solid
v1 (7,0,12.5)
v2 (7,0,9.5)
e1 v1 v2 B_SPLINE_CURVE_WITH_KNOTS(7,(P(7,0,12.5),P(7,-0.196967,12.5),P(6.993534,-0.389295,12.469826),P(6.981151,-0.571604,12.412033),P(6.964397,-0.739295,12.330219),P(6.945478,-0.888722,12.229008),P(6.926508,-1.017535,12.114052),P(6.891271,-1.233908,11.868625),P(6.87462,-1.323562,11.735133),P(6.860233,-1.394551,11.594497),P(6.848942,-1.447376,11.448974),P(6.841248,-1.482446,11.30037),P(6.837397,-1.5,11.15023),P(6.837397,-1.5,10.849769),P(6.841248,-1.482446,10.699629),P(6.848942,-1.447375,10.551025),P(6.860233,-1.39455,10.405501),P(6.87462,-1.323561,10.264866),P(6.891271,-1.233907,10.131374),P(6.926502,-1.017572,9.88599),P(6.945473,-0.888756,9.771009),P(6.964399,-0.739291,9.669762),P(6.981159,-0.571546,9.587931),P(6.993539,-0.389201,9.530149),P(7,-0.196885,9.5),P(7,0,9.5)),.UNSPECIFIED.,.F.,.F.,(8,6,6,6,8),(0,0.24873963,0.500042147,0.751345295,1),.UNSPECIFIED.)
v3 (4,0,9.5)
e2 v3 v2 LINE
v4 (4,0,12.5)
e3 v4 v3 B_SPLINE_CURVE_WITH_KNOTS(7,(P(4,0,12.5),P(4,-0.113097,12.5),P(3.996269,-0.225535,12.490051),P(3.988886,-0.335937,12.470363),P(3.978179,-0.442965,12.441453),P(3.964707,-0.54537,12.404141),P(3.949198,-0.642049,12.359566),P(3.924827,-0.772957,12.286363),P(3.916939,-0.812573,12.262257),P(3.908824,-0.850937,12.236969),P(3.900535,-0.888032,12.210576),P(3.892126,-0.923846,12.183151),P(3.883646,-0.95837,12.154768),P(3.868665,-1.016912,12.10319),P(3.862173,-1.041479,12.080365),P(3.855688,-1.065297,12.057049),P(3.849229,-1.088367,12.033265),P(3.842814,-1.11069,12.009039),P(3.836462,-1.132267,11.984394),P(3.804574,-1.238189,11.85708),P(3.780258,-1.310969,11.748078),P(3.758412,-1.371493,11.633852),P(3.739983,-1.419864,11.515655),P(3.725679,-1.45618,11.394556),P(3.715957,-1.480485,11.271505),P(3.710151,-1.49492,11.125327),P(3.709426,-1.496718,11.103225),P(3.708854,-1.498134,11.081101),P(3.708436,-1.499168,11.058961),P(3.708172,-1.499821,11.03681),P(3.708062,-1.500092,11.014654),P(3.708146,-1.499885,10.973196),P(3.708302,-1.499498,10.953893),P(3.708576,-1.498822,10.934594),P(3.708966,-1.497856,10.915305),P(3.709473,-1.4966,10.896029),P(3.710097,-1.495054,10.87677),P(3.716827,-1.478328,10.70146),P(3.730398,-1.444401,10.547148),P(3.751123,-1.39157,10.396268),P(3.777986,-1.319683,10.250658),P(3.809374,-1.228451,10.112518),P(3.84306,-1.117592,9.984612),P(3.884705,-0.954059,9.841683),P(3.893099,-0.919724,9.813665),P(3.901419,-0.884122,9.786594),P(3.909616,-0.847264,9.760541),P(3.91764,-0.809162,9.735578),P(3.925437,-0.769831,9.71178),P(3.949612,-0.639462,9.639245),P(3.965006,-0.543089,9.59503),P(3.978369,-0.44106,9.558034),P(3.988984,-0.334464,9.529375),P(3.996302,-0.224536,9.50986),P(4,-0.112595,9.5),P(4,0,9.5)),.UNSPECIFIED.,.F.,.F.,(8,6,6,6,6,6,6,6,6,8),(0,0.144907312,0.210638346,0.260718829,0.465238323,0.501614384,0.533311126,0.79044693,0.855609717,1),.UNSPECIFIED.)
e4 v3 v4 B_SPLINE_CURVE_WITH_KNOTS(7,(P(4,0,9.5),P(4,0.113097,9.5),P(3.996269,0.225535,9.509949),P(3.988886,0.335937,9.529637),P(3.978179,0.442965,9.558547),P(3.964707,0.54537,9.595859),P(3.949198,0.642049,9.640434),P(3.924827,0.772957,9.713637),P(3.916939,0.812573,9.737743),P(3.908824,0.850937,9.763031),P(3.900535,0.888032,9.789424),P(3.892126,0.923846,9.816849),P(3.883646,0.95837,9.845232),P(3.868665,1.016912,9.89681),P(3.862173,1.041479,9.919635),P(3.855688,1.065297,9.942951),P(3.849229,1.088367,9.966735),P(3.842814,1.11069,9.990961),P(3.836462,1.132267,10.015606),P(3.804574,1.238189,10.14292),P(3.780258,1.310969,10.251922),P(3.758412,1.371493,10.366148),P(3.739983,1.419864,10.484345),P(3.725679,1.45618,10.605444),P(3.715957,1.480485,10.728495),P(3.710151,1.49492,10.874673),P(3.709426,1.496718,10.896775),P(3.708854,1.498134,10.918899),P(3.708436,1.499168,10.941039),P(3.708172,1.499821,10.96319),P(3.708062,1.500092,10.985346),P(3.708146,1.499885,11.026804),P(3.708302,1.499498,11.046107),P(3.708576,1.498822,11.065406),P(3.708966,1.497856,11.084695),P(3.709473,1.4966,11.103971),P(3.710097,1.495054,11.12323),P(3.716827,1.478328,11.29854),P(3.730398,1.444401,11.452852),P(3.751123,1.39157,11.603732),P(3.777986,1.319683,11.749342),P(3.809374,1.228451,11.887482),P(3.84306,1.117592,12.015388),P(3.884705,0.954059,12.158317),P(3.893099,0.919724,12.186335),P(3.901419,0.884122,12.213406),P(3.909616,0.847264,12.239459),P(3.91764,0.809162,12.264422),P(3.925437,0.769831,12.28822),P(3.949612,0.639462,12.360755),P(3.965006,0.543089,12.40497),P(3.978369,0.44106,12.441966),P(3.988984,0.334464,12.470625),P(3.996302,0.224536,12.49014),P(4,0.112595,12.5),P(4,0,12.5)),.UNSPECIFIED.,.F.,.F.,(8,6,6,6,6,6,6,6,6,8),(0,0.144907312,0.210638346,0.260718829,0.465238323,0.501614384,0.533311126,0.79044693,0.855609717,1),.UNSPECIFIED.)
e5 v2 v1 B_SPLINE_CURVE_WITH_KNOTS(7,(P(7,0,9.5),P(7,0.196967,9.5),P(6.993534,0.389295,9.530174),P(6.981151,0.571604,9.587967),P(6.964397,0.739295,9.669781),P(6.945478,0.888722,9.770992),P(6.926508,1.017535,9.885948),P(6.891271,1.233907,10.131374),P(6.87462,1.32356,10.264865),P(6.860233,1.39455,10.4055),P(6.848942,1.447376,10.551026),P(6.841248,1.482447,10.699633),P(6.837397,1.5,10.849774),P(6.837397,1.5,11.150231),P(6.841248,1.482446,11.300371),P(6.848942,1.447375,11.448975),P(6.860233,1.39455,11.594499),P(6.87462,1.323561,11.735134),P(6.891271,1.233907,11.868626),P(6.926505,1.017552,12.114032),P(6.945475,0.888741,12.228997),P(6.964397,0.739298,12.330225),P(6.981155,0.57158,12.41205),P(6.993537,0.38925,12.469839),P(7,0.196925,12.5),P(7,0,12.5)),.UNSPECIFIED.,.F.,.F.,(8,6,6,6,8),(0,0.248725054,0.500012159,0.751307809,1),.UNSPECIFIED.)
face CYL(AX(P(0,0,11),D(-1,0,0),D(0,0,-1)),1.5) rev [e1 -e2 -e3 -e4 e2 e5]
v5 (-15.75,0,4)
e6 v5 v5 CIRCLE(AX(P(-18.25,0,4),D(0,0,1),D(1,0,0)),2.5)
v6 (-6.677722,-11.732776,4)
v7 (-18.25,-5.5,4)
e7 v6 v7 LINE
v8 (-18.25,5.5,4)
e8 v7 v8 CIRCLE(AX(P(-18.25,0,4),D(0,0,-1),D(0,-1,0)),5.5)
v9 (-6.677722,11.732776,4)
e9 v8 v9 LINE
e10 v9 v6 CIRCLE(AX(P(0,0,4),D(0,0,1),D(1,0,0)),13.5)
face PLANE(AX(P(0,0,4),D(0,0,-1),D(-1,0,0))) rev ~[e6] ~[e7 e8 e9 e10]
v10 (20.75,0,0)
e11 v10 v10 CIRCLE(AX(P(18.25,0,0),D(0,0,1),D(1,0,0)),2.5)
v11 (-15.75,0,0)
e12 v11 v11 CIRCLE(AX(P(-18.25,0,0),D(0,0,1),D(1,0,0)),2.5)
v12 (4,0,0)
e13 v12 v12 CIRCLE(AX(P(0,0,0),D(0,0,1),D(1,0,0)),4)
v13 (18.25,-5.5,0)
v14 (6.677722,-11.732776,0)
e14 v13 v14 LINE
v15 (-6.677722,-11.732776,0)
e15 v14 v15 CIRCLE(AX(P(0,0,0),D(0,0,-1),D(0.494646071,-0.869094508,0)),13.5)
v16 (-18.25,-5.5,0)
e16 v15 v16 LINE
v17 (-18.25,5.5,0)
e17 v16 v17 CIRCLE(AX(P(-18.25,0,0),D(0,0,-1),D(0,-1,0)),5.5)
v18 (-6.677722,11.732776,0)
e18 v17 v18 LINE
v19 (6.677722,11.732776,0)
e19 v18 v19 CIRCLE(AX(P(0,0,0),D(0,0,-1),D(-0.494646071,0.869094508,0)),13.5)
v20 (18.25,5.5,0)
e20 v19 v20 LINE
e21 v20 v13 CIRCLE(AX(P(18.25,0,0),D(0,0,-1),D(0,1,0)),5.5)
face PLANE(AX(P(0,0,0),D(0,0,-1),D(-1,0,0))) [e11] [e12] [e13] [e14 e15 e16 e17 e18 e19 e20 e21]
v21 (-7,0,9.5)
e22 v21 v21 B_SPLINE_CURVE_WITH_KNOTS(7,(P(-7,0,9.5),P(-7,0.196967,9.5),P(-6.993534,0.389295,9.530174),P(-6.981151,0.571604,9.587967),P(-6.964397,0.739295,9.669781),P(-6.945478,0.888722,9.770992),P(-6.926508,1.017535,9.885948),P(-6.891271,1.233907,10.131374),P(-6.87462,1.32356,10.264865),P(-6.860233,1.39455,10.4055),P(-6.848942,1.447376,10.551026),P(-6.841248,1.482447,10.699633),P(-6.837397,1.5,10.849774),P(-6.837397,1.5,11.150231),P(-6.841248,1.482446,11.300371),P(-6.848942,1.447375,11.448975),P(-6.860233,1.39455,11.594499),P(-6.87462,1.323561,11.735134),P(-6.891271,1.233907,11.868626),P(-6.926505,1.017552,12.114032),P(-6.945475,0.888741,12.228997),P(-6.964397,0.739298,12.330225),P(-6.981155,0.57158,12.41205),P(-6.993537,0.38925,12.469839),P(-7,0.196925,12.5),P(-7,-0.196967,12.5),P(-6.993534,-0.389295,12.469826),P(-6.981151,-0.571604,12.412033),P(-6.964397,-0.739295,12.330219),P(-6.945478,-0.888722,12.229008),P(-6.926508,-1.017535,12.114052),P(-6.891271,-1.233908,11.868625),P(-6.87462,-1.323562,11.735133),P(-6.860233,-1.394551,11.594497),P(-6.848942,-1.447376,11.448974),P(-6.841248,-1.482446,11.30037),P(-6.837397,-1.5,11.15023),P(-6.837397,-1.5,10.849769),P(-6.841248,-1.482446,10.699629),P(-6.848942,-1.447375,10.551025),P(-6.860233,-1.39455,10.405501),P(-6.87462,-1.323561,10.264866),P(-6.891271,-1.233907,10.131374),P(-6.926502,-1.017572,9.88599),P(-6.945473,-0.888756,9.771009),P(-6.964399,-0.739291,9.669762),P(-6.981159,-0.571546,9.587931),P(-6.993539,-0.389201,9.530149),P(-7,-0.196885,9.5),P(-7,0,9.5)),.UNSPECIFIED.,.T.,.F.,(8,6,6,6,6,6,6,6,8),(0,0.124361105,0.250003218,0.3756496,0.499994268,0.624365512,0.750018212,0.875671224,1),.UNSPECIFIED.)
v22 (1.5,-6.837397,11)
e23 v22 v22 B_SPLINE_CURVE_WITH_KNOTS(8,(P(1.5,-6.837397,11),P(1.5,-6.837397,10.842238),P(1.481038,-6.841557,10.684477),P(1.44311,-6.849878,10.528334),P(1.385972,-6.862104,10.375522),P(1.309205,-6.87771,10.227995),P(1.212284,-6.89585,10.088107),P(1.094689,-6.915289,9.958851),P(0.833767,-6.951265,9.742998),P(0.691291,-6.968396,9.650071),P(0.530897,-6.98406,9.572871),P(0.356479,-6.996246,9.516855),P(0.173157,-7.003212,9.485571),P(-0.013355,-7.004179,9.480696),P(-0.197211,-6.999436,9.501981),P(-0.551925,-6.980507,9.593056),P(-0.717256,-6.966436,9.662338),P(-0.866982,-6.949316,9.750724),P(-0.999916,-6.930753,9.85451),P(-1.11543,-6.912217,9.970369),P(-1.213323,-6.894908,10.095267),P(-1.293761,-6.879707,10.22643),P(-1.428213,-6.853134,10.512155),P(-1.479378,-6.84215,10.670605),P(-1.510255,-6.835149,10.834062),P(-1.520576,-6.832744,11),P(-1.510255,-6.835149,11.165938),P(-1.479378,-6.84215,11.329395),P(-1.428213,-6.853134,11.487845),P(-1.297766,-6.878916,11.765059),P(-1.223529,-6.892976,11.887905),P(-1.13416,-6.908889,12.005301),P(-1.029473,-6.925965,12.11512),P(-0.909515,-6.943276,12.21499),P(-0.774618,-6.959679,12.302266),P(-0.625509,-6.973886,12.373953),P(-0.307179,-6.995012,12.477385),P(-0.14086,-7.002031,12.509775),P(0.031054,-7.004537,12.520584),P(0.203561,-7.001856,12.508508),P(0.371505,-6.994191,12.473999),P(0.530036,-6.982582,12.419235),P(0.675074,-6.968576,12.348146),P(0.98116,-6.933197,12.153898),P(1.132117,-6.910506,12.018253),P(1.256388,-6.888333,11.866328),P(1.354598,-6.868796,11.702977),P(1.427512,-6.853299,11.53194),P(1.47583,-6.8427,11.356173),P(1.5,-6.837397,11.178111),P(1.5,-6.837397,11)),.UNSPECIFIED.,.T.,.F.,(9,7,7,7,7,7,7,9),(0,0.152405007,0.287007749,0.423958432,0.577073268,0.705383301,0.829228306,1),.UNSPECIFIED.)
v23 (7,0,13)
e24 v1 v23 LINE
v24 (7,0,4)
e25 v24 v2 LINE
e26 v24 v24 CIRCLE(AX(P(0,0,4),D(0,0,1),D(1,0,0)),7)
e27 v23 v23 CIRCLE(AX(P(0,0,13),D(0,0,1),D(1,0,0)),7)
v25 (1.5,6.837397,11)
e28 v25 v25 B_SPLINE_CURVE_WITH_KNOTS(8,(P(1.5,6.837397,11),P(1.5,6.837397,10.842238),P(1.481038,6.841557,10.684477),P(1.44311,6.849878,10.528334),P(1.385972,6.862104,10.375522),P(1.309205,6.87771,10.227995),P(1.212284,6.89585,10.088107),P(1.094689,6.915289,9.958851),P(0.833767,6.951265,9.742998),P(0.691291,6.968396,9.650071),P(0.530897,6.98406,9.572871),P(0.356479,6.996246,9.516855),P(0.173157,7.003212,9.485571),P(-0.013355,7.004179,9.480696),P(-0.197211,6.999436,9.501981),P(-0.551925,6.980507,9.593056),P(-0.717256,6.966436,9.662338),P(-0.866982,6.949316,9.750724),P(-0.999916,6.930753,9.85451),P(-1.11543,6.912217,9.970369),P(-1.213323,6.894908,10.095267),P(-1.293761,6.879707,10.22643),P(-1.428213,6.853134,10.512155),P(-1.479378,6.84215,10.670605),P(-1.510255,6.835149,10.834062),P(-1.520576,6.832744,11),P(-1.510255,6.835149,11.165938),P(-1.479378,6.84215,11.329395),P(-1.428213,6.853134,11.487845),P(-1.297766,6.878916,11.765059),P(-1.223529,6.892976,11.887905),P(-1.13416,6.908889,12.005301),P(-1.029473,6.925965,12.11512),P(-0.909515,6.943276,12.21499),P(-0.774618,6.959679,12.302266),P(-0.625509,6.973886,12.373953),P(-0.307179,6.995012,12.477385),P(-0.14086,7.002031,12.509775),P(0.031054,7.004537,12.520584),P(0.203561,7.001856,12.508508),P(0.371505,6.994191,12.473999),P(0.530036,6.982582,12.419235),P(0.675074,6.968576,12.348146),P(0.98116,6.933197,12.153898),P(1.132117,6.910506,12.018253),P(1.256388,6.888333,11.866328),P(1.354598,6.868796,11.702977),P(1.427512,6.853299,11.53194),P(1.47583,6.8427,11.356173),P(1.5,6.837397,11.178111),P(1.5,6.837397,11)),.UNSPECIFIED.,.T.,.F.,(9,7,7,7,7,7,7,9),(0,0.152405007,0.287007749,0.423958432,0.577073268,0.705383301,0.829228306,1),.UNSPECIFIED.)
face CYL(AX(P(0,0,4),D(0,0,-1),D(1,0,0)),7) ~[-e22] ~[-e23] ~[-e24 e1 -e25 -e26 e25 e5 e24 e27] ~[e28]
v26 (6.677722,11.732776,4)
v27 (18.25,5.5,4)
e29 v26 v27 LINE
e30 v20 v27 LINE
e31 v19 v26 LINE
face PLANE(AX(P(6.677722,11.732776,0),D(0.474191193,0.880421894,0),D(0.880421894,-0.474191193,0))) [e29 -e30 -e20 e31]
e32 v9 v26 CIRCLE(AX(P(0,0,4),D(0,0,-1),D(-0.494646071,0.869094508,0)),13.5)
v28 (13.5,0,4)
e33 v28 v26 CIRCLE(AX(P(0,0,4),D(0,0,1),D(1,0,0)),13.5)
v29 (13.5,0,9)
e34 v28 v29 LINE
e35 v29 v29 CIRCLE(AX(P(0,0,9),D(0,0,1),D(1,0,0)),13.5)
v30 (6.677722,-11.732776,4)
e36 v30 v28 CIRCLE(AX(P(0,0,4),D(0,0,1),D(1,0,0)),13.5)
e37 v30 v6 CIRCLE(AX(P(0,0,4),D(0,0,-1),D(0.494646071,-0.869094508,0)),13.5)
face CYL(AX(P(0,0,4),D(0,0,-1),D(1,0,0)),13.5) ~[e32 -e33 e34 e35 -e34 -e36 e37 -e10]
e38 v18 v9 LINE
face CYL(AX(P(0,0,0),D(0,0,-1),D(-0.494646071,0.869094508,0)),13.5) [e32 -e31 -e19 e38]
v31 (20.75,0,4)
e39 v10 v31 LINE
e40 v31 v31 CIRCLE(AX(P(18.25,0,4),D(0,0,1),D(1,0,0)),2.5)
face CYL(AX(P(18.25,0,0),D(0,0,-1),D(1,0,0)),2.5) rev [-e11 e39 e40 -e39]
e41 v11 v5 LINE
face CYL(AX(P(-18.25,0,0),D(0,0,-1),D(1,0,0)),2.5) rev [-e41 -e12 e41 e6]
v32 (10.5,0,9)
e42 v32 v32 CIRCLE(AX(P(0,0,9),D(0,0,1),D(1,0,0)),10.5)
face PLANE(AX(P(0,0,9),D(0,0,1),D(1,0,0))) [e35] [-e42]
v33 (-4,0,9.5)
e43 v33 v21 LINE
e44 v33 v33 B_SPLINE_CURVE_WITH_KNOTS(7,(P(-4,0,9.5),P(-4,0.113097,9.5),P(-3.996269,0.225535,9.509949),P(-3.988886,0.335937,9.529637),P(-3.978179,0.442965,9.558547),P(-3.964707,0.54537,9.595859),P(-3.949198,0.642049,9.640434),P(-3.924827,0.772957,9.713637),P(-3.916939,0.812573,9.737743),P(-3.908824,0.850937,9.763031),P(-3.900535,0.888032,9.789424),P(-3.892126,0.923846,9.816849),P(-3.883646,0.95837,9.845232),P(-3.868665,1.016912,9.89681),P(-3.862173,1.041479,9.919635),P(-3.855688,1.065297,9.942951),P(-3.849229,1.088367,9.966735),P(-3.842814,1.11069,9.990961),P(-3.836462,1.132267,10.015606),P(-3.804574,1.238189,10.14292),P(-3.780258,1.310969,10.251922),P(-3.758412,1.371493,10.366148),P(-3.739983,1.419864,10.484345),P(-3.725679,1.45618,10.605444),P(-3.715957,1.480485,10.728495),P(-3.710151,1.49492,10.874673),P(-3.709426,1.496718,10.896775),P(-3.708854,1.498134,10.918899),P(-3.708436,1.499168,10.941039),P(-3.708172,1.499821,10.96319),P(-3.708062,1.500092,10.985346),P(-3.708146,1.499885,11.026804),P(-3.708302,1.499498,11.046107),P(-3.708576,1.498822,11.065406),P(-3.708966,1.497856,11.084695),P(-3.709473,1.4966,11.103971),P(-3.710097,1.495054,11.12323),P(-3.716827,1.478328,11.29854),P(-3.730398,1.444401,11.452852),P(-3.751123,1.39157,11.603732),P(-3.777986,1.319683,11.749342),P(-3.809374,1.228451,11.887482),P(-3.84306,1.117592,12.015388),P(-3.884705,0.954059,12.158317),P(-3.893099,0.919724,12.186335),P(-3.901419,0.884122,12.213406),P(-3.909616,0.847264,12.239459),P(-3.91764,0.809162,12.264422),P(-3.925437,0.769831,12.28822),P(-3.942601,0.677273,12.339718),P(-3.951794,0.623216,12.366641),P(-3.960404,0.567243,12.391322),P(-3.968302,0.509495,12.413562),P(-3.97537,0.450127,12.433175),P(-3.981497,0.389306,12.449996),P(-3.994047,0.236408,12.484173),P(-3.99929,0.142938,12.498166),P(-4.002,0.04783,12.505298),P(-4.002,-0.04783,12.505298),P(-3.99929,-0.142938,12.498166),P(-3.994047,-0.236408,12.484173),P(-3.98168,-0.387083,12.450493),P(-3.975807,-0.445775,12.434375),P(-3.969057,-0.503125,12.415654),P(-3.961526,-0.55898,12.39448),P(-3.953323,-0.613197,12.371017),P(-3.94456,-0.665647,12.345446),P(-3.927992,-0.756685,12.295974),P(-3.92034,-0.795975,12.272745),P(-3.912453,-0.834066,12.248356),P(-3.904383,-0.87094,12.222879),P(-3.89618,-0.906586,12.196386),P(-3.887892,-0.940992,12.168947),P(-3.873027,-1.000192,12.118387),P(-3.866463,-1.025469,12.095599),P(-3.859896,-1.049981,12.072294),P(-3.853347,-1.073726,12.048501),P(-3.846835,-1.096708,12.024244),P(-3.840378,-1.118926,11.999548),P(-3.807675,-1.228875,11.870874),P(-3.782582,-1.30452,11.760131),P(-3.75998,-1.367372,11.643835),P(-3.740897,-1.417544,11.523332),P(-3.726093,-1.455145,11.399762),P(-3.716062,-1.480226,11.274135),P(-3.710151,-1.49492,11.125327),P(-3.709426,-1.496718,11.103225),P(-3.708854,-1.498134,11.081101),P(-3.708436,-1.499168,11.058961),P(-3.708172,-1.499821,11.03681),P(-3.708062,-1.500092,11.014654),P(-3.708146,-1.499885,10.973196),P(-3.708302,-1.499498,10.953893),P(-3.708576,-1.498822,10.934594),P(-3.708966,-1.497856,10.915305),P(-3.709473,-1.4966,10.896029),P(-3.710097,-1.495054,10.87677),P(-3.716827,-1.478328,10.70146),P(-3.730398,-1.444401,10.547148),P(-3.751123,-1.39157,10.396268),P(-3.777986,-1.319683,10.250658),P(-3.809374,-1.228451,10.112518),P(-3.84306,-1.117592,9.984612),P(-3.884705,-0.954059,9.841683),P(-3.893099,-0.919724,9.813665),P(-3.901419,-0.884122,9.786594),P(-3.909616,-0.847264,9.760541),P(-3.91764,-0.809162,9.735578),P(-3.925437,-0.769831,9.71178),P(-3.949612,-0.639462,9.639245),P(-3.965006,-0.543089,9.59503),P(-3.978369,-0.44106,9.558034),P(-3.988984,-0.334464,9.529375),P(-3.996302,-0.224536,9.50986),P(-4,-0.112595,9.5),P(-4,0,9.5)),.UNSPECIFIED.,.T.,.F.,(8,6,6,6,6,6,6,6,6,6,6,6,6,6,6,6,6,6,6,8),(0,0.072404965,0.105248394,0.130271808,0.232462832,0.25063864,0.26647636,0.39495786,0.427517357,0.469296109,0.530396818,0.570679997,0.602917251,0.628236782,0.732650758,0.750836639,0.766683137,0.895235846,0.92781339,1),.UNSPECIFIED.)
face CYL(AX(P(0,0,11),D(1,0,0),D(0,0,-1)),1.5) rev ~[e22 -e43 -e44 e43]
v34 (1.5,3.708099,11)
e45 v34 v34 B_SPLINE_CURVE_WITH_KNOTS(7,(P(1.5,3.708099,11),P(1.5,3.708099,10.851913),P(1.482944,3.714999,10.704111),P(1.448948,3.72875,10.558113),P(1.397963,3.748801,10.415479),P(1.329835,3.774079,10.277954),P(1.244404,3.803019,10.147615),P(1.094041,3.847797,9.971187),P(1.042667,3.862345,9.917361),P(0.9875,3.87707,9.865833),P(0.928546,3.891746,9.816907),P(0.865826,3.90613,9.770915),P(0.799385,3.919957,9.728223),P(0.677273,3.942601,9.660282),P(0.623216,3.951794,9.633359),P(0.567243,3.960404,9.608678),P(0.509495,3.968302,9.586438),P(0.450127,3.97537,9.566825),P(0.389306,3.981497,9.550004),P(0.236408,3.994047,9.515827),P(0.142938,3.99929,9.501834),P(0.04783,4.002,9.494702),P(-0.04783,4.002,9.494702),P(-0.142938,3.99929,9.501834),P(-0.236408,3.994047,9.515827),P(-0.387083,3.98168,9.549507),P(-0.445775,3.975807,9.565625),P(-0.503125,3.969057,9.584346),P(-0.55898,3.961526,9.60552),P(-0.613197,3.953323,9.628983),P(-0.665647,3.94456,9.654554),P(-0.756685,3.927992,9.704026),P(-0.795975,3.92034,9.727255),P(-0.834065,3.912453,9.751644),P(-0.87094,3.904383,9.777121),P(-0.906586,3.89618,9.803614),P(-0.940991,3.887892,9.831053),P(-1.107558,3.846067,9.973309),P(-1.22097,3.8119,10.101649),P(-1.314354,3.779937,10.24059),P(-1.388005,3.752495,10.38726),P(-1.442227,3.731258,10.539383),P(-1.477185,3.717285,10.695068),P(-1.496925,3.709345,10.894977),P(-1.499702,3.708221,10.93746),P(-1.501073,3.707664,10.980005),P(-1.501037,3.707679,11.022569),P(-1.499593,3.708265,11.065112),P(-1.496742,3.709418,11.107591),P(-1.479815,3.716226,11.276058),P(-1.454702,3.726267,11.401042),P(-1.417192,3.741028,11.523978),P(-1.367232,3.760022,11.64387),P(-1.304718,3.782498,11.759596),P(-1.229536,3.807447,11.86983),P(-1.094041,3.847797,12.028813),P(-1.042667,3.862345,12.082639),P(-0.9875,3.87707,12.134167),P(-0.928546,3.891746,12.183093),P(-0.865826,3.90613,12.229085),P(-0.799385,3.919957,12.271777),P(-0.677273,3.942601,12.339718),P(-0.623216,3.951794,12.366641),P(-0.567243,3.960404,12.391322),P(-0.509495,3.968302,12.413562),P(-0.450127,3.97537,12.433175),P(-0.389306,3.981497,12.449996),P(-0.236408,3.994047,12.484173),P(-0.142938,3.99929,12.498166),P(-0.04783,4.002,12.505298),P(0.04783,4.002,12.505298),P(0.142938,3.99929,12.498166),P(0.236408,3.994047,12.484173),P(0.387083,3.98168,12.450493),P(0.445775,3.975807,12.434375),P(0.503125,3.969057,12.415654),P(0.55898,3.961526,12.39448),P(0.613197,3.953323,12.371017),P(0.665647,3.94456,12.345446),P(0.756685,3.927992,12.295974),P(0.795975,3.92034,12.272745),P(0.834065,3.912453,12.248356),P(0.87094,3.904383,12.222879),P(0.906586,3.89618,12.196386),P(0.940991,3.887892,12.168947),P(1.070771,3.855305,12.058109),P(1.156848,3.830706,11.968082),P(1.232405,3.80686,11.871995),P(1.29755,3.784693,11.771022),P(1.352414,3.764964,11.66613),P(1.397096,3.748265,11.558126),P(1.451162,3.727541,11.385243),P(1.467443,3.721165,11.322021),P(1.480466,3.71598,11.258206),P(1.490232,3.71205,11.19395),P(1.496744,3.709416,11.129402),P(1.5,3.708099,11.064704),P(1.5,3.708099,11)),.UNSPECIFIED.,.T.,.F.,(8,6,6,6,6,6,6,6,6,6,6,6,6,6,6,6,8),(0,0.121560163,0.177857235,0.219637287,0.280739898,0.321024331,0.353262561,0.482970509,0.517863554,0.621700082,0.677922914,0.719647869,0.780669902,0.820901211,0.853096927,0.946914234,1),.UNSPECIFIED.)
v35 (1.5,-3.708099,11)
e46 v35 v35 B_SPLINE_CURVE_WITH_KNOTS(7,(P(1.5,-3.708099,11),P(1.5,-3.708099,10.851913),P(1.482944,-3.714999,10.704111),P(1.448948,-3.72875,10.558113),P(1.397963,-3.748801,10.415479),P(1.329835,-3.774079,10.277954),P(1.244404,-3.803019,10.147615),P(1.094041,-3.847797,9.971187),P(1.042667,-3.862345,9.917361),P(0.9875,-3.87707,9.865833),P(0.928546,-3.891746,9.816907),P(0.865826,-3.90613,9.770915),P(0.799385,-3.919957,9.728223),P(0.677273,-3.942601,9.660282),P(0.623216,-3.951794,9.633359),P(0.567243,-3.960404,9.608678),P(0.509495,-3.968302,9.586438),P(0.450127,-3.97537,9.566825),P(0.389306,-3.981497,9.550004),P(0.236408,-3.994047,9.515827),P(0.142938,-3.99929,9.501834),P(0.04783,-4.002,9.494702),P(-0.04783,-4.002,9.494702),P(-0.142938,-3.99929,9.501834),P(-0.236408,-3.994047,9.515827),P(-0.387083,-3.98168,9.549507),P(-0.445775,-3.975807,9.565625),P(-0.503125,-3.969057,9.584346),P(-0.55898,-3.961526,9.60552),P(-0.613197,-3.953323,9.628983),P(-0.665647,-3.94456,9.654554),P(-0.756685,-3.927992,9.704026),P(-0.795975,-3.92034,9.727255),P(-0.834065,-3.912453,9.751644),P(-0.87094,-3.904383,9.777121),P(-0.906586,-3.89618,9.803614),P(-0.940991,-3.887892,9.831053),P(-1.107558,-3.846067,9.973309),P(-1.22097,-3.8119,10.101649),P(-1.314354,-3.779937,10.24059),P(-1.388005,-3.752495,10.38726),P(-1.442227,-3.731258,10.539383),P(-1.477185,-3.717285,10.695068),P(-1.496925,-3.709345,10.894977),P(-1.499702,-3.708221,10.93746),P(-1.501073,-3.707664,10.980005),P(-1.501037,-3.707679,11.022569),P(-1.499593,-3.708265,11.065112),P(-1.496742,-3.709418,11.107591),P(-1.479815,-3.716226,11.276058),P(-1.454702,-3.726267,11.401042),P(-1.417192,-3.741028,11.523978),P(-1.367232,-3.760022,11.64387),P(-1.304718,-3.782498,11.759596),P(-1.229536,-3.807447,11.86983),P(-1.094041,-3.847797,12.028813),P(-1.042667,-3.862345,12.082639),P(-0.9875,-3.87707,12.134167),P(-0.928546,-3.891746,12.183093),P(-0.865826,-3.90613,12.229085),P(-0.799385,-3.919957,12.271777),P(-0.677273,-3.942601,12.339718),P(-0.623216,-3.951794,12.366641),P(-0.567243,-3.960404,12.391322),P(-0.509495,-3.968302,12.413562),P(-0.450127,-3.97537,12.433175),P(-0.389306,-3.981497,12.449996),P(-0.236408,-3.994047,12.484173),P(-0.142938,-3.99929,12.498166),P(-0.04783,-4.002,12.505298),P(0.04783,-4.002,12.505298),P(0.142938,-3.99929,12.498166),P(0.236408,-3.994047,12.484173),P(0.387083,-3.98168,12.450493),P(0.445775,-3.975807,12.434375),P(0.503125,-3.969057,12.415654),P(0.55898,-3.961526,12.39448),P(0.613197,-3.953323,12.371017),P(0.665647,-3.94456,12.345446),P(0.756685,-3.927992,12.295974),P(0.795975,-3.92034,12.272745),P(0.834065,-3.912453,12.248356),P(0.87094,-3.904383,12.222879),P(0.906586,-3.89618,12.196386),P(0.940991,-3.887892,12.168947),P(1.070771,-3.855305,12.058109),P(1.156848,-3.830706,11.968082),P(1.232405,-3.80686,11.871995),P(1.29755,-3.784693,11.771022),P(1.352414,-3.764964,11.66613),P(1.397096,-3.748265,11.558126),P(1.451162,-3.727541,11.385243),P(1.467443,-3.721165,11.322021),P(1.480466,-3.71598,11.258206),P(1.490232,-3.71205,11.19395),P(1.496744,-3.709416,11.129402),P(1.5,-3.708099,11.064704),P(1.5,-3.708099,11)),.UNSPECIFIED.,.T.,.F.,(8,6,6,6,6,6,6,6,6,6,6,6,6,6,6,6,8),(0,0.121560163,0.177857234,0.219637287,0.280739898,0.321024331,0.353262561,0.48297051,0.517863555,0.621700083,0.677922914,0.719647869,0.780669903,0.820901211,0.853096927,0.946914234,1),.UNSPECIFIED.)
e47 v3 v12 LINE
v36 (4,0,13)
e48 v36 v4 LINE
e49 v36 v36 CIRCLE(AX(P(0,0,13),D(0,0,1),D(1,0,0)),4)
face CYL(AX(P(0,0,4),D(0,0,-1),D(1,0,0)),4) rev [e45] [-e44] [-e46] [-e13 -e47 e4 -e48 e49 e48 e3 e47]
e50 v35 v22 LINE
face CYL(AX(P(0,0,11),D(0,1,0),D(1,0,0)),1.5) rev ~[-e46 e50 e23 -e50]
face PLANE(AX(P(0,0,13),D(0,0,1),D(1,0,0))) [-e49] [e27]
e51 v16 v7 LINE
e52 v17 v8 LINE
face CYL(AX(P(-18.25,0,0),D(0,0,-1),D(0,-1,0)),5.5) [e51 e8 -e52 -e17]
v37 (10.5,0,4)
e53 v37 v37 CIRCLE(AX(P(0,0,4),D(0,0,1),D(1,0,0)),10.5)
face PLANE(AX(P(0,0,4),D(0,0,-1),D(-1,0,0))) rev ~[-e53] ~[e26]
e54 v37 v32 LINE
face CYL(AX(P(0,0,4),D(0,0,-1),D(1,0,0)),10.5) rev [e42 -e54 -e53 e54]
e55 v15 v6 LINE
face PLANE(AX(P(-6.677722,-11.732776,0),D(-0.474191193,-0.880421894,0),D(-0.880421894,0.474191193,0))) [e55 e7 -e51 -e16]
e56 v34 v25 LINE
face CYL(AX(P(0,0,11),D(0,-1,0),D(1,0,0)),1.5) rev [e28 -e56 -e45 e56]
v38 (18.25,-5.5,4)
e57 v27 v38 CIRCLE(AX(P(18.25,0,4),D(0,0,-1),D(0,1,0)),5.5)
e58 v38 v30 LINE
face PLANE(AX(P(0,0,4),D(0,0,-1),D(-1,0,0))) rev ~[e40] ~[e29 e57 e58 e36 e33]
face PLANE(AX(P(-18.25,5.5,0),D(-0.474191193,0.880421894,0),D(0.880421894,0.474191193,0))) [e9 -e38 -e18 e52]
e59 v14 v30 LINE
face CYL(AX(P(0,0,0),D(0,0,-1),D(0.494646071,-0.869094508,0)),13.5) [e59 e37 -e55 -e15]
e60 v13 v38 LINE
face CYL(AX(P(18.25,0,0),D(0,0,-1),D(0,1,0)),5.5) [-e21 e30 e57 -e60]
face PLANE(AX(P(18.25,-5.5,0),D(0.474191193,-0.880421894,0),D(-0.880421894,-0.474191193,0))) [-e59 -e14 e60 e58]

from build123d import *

# Parameters (mm, degrees)
ESBO_O1_R                  = 2.5
ESBO_O1_R_2                = 4
RESSALTO_EXTRUS_O1_DEPTH   = 4
ESBO_O2_R                  = 13.5
ESBO_O2_R_2                = 10.5
RESSALTO_EXTRUS_O2_DEPTH   = 5
ESBO_O3_R                  = 7
ESBO_O3_R_2                = 4
RESSALTO_EXTRUS_O3_DEPTH   = 9
ESBO_O4_R                  = 1.5
CORTE_EXTRUS_O1_DEPTH      = 14.5
CORTE_EXTRUS_O1_DEPTH_BACK = 14.5
ESBO_O5_R                  = 1.5
CORTE_EXTRUS_O2_DEPTH      = 24.75
CORTE_EXTRUS_O2_DEPTH_BACK = 24.75


with BuildPart() as part:
    # Esboço1 → Ressalto-extrusão1 (new body)
    with BuildSketch(Plane.XY):
        with BuildLine():
            Line((-18.25, 5.5), (-6.677721963, 11.73277586))
            ThreePointArc((-6.677721963, 11.73277586), (0, 13.5), (6.677721963, 11.73277586))
            Line((6.677721963, 11.73277586), (18.25, 5.5))
            ThreePointArc((18.25, 5.5), (23.75, 0), (18.25, -5.5))
            Line((18.25, -5.5), (6.677721963, -11.73277586))
            ThreePointArc((6.677721963, -11.73277586), (0, -13.5), (-6.677721963, -11.73277586))
            Line((-6.677721963, -11.73277586), (-18.25, -5.5))
            ThreePointArc((-18.25, -5.5), (-23.75, 0), (-18.25, 5.5))
        make_face()
        with Locations((-18.25, 0)):
            Circle(ESBO_O1_R, mode=Mode.SUBTRACT)
        with Locations((18.25, 0)):
            Circle(ESBO_O1_R, mode=Mode.SUBTRACT)
        Circle(ESBO_O1_R_2, mode=Mode.SUBTRACT)
    extrude(amount=RESSALTO_EXTRUS_O1_DEPTH)

    # Esboço2 → Ressalto-extrusão2 (add)
    with BuildSketch(Plane.XY.offset(4)):
        Circle(ESBO_O2_R)
        Circle(ESBO_O2_R_2, mode=Mode.SUBTRACT)
    extrude(amount=RESSALTO_EXTRUS_O2_DEPTH)

    # Esboço3 → Ressalto-extrusão3 (add)
    with BuildSketch(Plane.XY.offset(4)):
        Circle(ESBO_O3_R)
        Circle(ESBO_O3_R_2, mode=Mode.SUBTRACT)
    extrude(amount=RESSALTO_EXTRUS_O3_DEPTH)

    # Esboço4 → Corte-extrusão1 (cut, two sides)
    with BuildSketch(Plane(origin=(0, 0, 0), x_dir=(1, 0, 0), z_dir=(0, 1, 0))) as corte_extrus_o1_sk:
        with Locations((0, -11)):
            Circle(ESBO_O4_R)
    extrude(amount=CORTE_EXTRUS_O1_DEPTH, mode=Mode.SUBTRACT)
    extrude(corte_extrus_o1_sk.sketch, amount=-CORTE_EXTRUS_O1_DEPTH_BACK, mode=Mode.SUBTRACT)

    # Esboço5 → Corte-extrusão2 (cut, two sides)
    with BuildSketch(Plane(origin=(0, 0, 0), x_dir=(0, 0, -1), z_dir=(1, 0, 0))) as corte_extrus_o2_sk:
        with Locations((-11, 0)):
            Circle(ESBO_O5_R)
    extrude(amount=CORTE_EXTRUS_O2_DEPTH, mode=Mode.SUBTRACT)
    extrude(corte_extrus_o2_sk.sketch, amount=-CORTE_EXTRUS_O2_DEPTH_BACK, mode=Mode.SUBTRACT)


solid = part.part
